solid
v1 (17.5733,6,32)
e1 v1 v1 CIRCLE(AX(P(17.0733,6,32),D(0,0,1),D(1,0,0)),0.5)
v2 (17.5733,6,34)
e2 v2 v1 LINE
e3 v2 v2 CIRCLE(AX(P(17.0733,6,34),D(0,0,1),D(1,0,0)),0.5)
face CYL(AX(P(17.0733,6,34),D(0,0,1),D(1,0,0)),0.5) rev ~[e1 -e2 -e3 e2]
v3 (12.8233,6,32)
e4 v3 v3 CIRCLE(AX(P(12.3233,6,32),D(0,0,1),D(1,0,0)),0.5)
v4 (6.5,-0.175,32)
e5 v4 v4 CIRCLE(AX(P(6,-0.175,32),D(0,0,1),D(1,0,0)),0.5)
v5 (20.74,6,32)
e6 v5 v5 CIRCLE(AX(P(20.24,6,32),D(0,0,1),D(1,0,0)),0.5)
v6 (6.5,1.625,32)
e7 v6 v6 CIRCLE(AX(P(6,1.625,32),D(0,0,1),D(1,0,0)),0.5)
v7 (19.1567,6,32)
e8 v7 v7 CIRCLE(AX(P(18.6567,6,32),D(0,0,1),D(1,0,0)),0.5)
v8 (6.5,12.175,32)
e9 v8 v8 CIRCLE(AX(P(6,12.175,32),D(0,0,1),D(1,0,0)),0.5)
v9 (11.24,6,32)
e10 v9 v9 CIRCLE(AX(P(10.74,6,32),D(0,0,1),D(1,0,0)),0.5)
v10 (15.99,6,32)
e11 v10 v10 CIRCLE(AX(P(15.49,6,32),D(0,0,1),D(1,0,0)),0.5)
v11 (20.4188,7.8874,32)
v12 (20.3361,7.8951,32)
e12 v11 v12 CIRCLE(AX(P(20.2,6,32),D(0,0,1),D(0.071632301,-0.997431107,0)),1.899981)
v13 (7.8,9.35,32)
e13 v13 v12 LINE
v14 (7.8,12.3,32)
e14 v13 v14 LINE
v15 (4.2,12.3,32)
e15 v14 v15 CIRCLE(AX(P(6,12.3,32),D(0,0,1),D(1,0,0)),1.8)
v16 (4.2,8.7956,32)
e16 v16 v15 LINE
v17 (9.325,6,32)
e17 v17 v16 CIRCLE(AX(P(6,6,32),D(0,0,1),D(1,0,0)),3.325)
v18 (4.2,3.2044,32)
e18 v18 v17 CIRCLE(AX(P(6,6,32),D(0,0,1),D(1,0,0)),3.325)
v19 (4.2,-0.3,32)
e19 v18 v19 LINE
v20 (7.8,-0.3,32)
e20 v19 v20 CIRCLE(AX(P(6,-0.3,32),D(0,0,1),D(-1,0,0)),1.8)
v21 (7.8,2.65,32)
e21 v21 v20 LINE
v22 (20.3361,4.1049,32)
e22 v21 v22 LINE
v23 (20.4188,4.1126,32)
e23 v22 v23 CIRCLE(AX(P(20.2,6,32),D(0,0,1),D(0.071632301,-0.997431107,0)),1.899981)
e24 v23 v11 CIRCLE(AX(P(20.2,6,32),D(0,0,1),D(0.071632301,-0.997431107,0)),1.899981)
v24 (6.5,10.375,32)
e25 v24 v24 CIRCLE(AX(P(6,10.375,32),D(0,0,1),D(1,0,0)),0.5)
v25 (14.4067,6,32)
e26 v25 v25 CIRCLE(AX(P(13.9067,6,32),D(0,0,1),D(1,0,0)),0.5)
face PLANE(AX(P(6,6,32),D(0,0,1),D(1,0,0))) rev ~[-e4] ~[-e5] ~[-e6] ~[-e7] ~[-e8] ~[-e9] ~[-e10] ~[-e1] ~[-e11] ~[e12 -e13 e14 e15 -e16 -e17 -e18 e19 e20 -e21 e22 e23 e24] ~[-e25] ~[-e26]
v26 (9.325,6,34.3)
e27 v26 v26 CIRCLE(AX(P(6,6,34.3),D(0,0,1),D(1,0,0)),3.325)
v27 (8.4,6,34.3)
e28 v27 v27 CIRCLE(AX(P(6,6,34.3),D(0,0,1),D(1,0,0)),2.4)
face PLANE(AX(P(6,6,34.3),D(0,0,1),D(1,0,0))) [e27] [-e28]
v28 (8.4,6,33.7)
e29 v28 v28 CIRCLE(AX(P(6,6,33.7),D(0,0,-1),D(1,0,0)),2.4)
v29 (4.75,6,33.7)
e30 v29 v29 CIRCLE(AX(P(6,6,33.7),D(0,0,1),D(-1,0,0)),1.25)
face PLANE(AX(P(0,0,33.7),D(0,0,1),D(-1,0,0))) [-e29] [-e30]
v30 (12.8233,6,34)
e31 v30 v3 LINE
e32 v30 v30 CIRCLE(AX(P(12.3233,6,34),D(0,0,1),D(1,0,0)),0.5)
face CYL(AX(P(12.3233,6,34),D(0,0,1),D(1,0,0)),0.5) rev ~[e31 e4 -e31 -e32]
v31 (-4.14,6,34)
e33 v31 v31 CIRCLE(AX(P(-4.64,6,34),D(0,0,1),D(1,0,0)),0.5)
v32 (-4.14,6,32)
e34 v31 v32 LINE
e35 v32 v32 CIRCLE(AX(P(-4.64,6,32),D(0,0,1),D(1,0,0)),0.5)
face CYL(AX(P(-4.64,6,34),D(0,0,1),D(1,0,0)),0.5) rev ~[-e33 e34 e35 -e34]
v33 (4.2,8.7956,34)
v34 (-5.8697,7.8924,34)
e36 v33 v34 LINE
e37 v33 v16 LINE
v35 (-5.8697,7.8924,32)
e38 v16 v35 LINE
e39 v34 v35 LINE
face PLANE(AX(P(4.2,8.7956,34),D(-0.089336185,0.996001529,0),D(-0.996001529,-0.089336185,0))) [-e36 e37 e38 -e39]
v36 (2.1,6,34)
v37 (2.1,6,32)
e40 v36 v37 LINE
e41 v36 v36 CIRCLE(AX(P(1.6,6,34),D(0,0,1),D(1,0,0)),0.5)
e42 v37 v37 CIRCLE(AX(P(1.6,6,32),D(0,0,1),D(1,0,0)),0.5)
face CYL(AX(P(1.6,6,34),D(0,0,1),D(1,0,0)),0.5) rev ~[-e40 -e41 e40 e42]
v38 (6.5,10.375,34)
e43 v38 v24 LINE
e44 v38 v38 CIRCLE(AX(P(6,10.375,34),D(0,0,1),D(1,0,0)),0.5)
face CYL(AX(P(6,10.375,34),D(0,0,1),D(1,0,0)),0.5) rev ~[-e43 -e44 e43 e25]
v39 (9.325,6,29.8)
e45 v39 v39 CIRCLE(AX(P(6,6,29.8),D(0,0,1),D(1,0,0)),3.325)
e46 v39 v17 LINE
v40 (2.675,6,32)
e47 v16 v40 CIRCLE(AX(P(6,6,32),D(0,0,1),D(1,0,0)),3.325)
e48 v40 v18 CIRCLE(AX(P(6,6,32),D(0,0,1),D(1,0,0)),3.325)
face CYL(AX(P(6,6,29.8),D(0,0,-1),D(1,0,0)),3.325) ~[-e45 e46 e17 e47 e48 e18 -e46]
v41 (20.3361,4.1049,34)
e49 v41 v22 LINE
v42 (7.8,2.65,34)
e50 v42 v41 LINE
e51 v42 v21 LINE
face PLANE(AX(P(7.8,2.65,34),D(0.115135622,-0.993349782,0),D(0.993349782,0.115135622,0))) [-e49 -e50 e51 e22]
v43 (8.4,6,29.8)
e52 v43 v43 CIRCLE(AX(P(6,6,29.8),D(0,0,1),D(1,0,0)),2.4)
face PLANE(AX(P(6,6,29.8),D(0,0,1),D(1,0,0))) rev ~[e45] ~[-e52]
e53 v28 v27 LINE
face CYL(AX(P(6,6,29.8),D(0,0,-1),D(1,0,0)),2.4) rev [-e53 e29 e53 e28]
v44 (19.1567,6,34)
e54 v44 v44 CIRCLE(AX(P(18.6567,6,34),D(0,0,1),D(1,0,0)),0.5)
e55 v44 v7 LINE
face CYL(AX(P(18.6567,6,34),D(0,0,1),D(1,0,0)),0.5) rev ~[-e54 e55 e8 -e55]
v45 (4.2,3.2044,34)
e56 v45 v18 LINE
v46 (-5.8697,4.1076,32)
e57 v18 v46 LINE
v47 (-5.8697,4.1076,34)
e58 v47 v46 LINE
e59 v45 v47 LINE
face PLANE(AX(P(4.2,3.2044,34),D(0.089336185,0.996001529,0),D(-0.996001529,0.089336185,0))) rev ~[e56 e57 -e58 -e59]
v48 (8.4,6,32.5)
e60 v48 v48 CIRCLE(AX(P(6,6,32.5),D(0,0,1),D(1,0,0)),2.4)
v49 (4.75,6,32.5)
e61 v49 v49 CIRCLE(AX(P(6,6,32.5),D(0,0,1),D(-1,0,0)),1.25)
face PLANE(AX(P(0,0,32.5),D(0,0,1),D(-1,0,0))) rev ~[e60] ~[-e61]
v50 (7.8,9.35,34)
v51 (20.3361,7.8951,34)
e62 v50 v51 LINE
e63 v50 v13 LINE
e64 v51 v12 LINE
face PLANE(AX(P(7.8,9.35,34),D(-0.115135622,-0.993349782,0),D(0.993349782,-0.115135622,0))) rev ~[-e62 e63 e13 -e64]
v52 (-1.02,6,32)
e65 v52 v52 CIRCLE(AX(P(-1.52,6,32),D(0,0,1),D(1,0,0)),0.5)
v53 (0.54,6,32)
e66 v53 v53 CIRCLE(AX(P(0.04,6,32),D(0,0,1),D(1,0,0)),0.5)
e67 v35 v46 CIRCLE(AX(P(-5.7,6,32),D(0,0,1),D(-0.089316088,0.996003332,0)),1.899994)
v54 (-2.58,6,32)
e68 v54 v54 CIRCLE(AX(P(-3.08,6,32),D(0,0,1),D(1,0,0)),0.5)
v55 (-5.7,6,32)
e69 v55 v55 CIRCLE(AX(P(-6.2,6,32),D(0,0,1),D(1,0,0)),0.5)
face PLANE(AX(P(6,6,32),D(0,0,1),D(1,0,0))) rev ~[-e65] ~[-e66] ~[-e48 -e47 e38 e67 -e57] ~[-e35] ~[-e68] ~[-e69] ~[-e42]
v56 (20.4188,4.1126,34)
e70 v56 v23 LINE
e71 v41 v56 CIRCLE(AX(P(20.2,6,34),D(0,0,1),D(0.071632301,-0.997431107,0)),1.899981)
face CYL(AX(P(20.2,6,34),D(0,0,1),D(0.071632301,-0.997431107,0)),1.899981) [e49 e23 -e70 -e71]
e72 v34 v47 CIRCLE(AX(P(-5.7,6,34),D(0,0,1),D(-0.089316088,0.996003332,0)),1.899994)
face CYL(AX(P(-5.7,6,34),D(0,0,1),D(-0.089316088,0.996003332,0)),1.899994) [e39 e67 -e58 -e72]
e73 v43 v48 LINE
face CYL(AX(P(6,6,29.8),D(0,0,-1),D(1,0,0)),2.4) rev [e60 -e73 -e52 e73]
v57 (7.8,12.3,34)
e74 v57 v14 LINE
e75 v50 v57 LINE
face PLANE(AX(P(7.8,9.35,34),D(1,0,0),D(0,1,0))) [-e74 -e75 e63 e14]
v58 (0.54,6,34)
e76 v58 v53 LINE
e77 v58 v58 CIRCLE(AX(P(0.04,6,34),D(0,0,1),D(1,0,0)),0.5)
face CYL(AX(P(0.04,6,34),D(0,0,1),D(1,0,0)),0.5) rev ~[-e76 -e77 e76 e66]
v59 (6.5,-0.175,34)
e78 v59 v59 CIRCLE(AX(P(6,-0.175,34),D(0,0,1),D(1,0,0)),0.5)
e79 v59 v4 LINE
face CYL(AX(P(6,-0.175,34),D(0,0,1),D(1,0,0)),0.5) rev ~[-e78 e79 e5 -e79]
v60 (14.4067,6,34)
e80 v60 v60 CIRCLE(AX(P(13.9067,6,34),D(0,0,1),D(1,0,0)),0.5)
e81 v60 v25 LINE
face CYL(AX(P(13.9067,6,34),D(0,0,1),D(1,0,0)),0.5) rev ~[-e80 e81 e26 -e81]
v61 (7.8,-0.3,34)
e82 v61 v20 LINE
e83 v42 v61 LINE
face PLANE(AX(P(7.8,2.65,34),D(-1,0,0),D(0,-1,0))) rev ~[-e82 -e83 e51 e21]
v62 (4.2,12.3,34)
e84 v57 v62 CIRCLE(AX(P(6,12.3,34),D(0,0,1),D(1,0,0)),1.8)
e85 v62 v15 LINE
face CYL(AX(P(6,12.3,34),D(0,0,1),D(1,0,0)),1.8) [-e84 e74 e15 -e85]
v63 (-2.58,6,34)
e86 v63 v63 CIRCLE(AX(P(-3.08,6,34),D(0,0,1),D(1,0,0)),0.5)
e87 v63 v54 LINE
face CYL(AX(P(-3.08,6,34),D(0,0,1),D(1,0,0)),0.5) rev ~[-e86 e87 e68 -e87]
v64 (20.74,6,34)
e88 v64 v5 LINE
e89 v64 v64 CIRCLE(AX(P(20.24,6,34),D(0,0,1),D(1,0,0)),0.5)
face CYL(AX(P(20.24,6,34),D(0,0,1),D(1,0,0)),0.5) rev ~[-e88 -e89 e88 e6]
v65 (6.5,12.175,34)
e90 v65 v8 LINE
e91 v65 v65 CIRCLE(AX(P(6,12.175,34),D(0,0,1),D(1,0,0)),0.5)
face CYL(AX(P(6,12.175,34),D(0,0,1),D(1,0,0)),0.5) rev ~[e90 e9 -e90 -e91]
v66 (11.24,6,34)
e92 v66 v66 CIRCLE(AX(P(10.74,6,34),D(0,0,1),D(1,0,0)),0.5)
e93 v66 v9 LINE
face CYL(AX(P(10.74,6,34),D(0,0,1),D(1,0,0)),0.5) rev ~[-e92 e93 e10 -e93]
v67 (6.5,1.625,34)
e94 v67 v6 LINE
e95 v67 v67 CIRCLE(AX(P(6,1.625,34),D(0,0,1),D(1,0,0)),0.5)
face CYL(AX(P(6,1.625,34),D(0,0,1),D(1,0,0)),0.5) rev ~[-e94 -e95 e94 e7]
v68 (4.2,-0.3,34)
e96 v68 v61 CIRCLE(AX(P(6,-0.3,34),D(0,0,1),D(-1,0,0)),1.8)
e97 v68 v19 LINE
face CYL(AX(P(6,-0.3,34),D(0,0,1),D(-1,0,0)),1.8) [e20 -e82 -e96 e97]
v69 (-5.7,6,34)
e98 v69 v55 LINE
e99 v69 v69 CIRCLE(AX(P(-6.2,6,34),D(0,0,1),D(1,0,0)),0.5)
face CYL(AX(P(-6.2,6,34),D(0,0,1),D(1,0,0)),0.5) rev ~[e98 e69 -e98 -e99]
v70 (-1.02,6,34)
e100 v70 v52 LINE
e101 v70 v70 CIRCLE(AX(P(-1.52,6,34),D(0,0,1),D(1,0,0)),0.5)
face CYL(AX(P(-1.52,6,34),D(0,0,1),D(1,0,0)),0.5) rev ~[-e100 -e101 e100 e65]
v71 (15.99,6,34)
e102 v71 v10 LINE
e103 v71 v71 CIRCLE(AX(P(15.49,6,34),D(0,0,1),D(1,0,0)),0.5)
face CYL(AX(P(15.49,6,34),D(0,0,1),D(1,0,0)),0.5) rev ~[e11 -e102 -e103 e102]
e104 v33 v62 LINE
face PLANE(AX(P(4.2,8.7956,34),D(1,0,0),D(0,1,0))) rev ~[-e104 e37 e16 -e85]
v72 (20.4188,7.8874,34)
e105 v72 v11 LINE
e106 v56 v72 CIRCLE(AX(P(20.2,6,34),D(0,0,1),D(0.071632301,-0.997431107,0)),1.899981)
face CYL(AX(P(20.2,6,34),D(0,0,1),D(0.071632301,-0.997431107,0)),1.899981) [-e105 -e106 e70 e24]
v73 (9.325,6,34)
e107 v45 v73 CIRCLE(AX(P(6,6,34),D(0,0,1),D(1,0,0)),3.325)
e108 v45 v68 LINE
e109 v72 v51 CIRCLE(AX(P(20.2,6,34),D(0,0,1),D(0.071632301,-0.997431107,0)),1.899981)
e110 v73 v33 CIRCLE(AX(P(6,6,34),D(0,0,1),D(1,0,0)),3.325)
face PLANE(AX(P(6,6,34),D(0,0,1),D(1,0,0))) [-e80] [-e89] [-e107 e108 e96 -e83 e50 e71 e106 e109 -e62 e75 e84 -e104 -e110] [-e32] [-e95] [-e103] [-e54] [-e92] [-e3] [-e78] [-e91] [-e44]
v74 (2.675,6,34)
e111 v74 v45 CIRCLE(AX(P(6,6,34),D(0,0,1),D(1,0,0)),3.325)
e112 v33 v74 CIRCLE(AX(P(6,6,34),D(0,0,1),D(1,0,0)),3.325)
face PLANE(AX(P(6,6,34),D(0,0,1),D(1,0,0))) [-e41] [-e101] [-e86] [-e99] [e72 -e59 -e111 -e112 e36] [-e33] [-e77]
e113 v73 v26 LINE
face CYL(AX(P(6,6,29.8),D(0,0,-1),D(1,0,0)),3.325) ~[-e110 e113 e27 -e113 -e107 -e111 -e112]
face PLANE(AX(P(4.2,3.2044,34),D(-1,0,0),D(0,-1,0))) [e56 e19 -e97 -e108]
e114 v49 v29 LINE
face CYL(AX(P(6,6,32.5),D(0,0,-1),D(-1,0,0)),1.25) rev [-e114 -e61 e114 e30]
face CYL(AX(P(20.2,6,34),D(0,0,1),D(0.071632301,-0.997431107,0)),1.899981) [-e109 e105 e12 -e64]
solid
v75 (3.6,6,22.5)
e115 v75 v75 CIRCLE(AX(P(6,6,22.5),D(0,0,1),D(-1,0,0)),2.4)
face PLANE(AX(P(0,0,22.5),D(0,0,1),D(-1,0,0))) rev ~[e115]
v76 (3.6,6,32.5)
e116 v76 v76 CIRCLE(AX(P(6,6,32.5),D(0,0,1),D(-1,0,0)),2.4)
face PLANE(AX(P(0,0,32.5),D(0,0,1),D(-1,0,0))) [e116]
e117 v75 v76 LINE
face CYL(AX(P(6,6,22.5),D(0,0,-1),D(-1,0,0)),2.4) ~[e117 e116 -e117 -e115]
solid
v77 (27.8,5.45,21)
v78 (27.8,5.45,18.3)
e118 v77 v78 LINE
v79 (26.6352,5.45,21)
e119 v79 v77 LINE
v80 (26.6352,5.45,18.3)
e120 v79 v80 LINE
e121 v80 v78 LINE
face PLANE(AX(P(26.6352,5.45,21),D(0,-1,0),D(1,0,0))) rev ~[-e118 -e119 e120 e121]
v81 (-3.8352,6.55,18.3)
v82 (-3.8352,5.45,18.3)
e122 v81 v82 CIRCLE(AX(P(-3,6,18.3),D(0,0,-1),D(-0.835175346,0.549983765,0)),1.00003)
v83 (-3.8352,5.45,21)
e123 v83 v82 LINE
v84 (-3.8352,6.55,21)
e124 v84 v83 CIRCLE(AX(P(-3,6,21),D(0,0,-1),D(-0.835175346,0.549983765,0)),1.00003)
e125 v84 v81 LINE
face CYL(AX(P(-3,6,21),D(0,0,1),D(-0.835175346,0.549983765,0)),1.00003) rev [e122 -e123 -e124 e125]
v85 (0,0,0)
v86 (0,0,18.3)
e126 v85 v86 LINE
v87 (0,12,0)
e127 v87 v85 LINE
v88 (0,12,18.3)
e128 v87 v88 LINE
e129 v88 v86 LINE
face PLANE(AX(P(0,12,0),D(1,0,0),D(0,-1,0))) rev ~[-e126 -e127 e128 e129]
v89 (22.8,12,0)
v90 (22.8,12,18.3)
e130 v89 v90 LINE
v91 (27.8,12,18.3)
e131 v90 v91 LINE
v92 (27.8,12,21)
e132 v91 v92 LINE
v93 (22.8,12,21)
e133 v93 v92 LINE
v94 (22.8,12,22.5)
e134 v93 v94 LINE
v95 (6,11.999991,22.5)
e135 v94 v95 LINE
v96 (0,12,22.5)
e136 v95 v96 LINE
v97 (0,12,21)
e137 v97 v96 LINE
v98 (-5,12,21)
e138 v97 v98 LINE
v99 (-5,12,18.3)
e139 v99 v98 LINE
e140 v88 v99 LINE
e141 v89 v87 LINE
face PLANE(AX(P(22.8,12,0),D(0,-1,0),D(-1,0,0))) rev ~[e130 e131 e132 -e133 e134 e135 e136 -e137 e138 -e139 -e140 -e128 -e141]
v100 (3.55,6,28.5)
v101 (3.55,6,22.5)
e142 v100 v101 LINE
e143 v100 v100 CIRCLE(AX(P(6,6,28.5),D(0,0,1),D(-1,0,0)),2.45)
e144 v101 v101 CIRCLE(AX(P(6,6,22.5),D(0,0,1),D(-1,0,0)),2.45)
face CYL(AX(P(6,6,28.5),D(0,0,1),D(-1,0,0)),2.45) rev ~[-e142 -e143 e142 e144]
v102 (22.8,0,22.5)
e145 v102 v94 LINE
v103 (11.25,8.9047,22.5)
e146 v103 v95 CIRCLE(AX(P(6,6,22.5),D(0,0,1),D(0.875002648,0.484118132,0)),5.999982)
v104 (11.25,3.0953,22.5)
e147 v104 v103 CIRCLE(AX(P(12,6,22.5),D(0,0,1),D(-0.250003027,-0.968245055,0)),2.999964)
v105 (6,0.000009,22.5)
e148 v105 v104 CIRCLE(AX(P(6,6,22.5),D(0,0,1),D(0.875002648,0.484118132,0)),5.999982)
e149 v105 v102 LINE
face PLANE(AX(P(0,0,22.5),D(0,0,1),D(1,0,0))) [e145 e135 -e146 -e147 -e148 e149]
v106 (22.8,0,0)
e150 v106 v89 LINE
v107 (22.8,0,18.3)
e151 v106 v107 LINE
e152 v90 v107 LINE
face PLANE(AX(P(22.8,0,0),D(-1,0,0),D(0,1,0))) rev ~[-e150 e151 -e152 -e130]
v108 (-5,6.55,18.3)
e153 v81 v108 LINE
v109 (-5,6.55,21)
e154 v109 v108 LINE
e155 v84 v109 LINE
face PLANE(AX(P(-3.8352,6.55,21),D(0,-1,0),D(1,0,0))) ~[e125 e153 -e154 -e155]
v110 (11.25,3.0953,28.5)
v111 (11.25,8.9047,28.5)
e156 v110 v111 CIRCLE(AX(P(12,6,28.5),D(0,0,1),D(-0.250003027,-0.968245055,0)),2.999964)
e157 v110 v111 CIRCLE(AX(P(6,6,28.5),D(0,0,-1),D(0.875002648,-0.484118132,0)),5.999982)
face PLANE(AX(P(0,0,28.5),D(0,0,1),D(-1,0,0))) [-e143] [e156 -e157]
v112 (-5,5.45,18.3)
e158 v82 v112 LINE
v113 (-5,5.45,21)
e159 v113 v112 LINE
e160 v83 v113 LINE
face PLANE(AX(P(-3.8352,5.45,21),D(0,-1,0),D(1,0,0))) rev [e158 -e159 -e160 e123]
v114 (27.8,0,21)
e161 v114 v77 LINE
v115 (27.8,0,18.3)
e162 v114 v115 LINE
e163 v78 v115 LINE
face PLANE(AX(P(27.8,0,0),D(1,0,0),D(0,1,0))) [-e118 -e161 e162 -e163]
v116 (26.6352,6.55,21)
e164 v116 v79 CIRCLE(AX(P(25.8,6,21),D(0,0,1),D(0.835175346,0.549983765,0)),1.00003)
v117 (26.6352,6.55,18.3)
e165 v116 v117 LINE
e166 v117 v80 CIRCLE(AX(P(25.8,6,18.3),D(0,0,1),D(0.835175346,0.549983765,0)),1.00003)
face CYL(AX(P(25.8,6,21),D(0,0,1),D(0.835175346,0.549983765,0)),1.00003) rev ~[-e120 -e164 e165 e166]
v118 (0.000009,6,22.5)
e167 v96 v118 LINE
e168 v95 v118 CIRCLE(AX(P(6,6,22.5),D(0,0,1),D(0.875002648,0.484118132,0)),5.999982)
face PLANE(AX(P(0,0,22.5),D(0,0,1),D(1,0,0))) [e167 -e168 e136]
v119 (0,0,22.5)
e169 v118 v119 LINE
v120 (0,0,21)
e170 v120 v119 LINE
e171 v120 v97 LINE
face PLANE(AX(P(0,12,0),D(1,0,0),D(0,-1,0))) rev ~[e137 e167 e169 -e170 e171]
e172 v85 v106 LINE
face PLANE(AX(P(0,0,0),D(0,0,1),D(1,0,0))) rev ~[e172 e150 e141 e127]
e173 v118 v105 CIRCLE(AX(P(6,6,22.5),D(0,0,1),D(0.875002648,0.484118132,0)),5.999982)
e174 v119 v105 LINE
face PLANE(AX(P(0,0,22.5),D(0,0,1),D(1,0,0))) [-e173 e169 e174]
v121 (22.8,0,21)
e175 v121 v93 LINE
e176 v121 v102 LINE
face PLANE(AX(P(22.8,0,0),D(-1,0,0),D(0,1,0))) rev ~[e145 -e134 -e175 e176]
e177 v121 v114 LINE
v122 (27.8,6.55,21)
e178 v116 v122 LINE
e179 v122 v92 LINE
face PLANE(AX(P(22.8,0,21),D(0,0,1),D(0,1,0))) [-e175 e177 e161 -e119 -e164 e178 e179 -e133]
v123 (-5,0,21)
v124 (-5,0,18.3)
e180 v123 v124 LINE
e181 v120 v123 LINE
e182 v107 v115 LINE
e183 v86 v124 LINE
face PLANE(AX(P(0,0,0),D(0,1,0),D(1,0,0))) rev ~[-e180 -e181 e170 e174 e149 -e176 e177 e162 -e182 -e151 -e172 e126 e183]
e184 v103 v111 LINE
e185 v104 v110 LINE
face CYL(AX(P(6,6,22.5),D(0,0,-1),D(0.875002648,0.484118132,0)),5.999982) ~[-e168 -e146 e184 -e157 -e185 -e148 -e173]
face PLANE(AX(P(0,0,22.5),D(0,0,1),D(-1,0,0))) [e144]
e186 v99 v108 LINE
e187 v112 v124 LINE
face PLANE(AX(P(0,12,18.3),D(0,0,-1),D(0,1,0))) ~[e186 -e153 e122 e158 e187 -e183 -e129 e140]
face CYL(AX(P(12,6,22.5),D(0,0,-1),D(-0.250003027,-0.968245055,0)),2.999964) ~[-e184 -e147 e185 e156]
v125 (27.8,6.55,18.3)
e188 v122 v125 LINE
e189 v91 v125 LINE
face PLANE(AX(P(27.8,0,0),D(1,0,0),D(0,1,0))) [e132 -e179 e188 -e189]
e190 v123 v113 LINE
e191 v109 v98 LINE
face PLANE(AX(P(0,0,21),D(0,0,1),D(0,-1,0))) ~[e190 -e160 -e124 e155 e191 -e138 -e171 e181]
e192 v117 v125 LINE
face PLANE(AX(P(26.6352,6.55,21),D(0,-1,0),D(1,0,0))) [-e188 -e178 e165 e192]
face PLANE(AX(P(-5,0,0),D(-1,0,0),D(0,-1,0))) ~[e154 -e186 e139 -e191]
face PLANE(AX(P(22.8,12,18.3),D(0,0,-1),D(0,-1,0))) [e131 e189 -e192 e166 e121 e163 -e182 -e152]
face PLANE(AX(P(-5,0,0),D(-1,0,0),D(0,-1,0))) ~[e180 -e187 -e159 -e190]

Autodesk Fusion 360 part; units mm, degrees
sketch "Sketch1" plane through (0, 0, 0) normal (0, 0, 1) x (1, 0, 0)
  line L0 (0, 0) -> (22.8, 0)
  line L1 (22.8, 0) -> (22.8, 12)
  line L2 (22.8, 12) -> (0, 12)
  line L3 (0, 12) -> (0, 0)
  dimension "d1" = 22.8
  dimension "d2" = 12
extrude "Extrude1" add sketch "Sketch1" along normal blind 22.5 makes body 1
sketch "Sketch2" plane through (22.8, 0, 0) normal (1, 0, 0) x (0, 1, 0)
  line L0 (0, 0) -> (12, 0)
  line L1 (12, 0) -> (12, 22.5)
  line L2 (12, 22.5) -> (0, 22.5)
  line L3 (0, 22.5) -> (0, 0)
  line L4 (0, 21) -> (12, 21)
  line L5 (12, 21) -> (12, 18.3)
  line L6 (12, 18.3) -> (0, 18.3)
  line L7 (0, 18.3) -> (0, 21)
  dimension "d5" = 1.5
  dimension "d6" = 2.7
extrude "Extrude2" add sketch "Sketch2" along normal blind 5 contours L1 L3 L4 L5 L6 L7 bodies 1
sketch "Sketch3" plane through (0, 0, 0) normal (-1, 0, 0) x (0, -1, 0)
  line L0 (-12, 0) -> (0, 0)
  line L1 (0, 0) -> (0, 22.5)
  line L2 (0, 22.5) -> (-12, 22.5)
  line L3 (-12, 22.5) -> (-12, 0)
sketch "Sketch4" plane through (0, 0, 21) normal (0, 0, 1) x (-1, 0, 0)
  line L0 (-22.8, -12) -> (-22.8, 0)
  line L1 (-22.8, 0) -> (-27.8, 0)
  line L2 (-27.8, 0) -> (-27.8, -12)
  line L3 (-27.8, -12) -> (-22.8, -12)
  line L4 (-26.6352, -5.45) -> (-27.8, -5.45)
  line L5 (-26.6352, -6.55) -> (-27.8, -6.55)
  arc A0 (-26.6352, -6.55) -> (-26.6352, -5.45) centre (-25.8, -6) ccw
  line L6 (-27.8, -5.45) -> (-27.8, -6.55)
  dimension "d11" = 2
  dimension "d12" = 2
extrude "Extrude3" cut sketch "Sketch4" against normal blind 2.7 contours L2 L4 L5 A0 L6 bodies 1
ref_plane "WorkPlane1" through (11.4, 6, 9.15) normal (1, 0, 0) x (0, 1, 0)
mirror "Mirror1" about plane through (11.4, 6, 9.15) normal (1, 0, 0) of "Extrude2", "Extrude3"
sketch "Sketch5" plane through (0, 0, 22.5) normal (0, 0, 1) x (-1, 0, 0)
  line L0 (0, -12) -> (0, 0)
  line L1 (0, 0) -> (-22.8, 0)
  line L2 (-22.8, 0) -> (-22.8, -12)
  line L3 (-22.8, -12) -> (0, -12)
  arc A0 (-11.25, -3.0953) -> (-11.25, -8.9047) centre (-12, -6) ccw
  arc A1 (-11.25, -8.9047) -> (-11.25, -3.0953) centre (-6, -6) ccw
  dimension "d18" = 12
  dimension "d19" = 6
  dimension "d20" = 6
extrude "Extrude4" add sketch "Sketch5" along normal blind 6 contours A0 A1 bodies 1
sketch "Sketch6" plane through (0, 0, 28.5) normal (0, 0, 1) x (-1, 0, 0)
  arc A0 (-11.25, -8.9047) -> (-11.25, -3.0953) centre (-6, -6) ccw
  arc A1 (-11.25, -3.0953) -> (-11.25, -8.9047) centre (-12, -6) ccw
  circle A2 centre (-6, -6) radius 2.45
  dimension "d23" = 4.9
extrude "Extrude5" cut sketch "Sketch6" against normal blind 6 contours A2 bodies 1
copy_body "Body->Comp1" bodies 1 removing the originals makes body 2 in component "MG90S"
sketch "Sketch1 (2)" plane through (0, 0, 22.5) normal (0, 0, 1) x (-1, 0, 0) in component "Servo Spline Axis"
  circle A0 centre (-6, -6) radius 2.45
  circle A1 centre (-6, -6) radius 2.4
  dimension "d26" = 4.8
extrude "Extrude1'" add sketch "Sketch1 (2)" along normal blind 10 separate body contours A1 makes body 3 in component "Servo Spline Axis"
ref_plane "WorkPlane1" through (6, 6, 29.8) normal (0, 0, 1) x (-1, 0, 0) in component "Servo Arm"
sketch "Sketch1 (3)" plane through (6, 6, 29.8) normal (0, 0, 1) x (1, 0, 0) in component "Servo Arm"
  circle A0 centre (0, 0) radius 2.4
  circle A1 centre (0, 0) radius 3.325
  dimension "d43" = 4.8
  dimension "d44" = 6.65
extrude "Extrude1''" add sketch "Sketch1 (3)" along normal blind 4.5 separate body makes body 4 in component "Servo Arm"
sketch "Sketch2 (2)" plane through (0, 0, 32.5) normal (0, 0, 1) x (-1, 0, 0) in component "Servo Arm"
  circle A0 centre (-6, -6) radius 2.4
  circle A1 centre (-6, -6) radius 2.4
  circle A2 centre (-6, -6) radius 1.25
  dimension "d47" = 4.8
  dimension "d48" = 2.5
extrude "Extrude2'" add sketch "Sketch2 (2)" along normal blind 1.2 bodies 4 in component "Servo Arm"
ref_plane "WorkPlane2" through (6, 6, 34) normal (0, 0, 1) x (1, 0, 0) in component "Servo Arm"
sketch "Sketch3 (2)" plane through (6, 6, 34) normal (0, 0, 1) x (1, 0, 0) in component "Servo Arm"
  line L0 (-1.8, 2.7956) -> (-1.8, 6.3)
  arc A0 (1.8, 6.3) -> (-1.8, 6.3) centre (0, 6.3) ccw
  arc A1 (-1.8, -6.3) -> (1.8, -6.3) centre (0, -6.3) ccw
  line L1 (1.8, -3.35) -> (1.8, -6.3)
  line L2 (-1.8, -2.7956) -> (-1.8, -6.3)
  circle A2 centre (0, 0) radius 3.325
  arc A3 (14.3361, -1.8951) -> (14.3361, 1.8951) centre (14.2, 0) ccw
  line L3 (-1.8, -2.7956) -> (-11.8697, -1.8924)
  line L4 (-1.8, 2.7956) -> (-11.8697, 1.8924)
  arc A4 (-11.8697, 1.8924) -> (-11.8697, -1.8924) centre (-11.7, 0) ccw
  line L5 (1.8, -3.35) -> (14.4188, -1.8874)
  line L6 (1.8, 3.35) -> (14.4188, 1.8874)
  line L7 (1.8, 3.35) -> (1.8, 6.3)
  arc A5 (14.4188, -1.8874) -> (14.4188, 1.8874) centre (14.2, 0) ccw
  circle A6 centre (0, 4.375) radius 0.5
  circle A7 centre (0, 6.175) radius 0.5
  circle A8 centre (0, -4.375) radius 0.5
  circle A9 centre (0, -6.175) radius 0.5
  line L8 (-3.325, 0) -> (-2.4, 0)
  circle A10 centre (-4.4, 0) radius 0.5
  circle A11 centre (-5.96, 0) radius 0.5
  circle A12 centre (-7.52, 0) radius 0.5
  circle A13 centre (-9.08, 0) radius 0.5
  circle A14 centre (-10.64, 0) radius 0.5
  circle A15 centre (-12.2, 0) radius 0.5
  circle A16 centre (4.74, 0) radius 0.5
  circle A17 centre (6.3233, 0) radius 0.5
  circle A18 centre (7.9067, 0) radius 0.5
  circle A19 centre (9.49, 0) radius 0.5
  circle A20 centre (11.0733, 0) radius 0.5
  circle A21 centre (12.6567, 0) radius 0.5
  circle A22 centre (14.24, 0) radius 0.5
  dimension "d52" = 14.2
  dimension "d53" = 6.3
  dimension "d55" = 11.7
  dimension "d58" = 3.8
  dimension "d59" = 6.65
  dimension "d60" = 3.8
  dimension "d62" = 2.95
  dimension "d63" = 2.95
  dimension "d65" = 1
  dimension "d66" = 4.375
  dimension "d68" = 1
  dimension "d69" = 1.8
  dimension "d70" = 1
  dimension "d71" = 2
  dimension "d74" = -7.8
  dimension "d75" = 0
  dimension "d76" = 1
  dimension "d77" = 9.14
  dimension "d80" = 9.5
  dimension "d81" = 0
extrude "Extrude3'" add sketch "Sketch3 (2)" against normal blind 2 contours L0 A0 A1 L1 L2 A2 A3 L5 L6 L7 A5 | A2 L3 L4 A4 bodies 4 in component "Servo Arm"
component "MG90S" placed x (1, 0, 0) y (0, 1, 0) z (0, 0, 1) at (0, 0, 0)
component "Servo Spline Axis" placed x (1, 0, 0) y (0, 1, 0) z (0, 0, 1) at (0, 0, 0) in component "MG90S"
component "Servo Arm" placed x (1, 0, 0) y (0, 1, 0) z (0, 0, 1) at (0, 0, 0) in component "MG90S"
equation "d52 = 18 mm - 3.8 mm"
equation "d53 = 8.1 mm - 1.8 mm"
equation "d55 = 15.5 mm - 3.8 mm"
